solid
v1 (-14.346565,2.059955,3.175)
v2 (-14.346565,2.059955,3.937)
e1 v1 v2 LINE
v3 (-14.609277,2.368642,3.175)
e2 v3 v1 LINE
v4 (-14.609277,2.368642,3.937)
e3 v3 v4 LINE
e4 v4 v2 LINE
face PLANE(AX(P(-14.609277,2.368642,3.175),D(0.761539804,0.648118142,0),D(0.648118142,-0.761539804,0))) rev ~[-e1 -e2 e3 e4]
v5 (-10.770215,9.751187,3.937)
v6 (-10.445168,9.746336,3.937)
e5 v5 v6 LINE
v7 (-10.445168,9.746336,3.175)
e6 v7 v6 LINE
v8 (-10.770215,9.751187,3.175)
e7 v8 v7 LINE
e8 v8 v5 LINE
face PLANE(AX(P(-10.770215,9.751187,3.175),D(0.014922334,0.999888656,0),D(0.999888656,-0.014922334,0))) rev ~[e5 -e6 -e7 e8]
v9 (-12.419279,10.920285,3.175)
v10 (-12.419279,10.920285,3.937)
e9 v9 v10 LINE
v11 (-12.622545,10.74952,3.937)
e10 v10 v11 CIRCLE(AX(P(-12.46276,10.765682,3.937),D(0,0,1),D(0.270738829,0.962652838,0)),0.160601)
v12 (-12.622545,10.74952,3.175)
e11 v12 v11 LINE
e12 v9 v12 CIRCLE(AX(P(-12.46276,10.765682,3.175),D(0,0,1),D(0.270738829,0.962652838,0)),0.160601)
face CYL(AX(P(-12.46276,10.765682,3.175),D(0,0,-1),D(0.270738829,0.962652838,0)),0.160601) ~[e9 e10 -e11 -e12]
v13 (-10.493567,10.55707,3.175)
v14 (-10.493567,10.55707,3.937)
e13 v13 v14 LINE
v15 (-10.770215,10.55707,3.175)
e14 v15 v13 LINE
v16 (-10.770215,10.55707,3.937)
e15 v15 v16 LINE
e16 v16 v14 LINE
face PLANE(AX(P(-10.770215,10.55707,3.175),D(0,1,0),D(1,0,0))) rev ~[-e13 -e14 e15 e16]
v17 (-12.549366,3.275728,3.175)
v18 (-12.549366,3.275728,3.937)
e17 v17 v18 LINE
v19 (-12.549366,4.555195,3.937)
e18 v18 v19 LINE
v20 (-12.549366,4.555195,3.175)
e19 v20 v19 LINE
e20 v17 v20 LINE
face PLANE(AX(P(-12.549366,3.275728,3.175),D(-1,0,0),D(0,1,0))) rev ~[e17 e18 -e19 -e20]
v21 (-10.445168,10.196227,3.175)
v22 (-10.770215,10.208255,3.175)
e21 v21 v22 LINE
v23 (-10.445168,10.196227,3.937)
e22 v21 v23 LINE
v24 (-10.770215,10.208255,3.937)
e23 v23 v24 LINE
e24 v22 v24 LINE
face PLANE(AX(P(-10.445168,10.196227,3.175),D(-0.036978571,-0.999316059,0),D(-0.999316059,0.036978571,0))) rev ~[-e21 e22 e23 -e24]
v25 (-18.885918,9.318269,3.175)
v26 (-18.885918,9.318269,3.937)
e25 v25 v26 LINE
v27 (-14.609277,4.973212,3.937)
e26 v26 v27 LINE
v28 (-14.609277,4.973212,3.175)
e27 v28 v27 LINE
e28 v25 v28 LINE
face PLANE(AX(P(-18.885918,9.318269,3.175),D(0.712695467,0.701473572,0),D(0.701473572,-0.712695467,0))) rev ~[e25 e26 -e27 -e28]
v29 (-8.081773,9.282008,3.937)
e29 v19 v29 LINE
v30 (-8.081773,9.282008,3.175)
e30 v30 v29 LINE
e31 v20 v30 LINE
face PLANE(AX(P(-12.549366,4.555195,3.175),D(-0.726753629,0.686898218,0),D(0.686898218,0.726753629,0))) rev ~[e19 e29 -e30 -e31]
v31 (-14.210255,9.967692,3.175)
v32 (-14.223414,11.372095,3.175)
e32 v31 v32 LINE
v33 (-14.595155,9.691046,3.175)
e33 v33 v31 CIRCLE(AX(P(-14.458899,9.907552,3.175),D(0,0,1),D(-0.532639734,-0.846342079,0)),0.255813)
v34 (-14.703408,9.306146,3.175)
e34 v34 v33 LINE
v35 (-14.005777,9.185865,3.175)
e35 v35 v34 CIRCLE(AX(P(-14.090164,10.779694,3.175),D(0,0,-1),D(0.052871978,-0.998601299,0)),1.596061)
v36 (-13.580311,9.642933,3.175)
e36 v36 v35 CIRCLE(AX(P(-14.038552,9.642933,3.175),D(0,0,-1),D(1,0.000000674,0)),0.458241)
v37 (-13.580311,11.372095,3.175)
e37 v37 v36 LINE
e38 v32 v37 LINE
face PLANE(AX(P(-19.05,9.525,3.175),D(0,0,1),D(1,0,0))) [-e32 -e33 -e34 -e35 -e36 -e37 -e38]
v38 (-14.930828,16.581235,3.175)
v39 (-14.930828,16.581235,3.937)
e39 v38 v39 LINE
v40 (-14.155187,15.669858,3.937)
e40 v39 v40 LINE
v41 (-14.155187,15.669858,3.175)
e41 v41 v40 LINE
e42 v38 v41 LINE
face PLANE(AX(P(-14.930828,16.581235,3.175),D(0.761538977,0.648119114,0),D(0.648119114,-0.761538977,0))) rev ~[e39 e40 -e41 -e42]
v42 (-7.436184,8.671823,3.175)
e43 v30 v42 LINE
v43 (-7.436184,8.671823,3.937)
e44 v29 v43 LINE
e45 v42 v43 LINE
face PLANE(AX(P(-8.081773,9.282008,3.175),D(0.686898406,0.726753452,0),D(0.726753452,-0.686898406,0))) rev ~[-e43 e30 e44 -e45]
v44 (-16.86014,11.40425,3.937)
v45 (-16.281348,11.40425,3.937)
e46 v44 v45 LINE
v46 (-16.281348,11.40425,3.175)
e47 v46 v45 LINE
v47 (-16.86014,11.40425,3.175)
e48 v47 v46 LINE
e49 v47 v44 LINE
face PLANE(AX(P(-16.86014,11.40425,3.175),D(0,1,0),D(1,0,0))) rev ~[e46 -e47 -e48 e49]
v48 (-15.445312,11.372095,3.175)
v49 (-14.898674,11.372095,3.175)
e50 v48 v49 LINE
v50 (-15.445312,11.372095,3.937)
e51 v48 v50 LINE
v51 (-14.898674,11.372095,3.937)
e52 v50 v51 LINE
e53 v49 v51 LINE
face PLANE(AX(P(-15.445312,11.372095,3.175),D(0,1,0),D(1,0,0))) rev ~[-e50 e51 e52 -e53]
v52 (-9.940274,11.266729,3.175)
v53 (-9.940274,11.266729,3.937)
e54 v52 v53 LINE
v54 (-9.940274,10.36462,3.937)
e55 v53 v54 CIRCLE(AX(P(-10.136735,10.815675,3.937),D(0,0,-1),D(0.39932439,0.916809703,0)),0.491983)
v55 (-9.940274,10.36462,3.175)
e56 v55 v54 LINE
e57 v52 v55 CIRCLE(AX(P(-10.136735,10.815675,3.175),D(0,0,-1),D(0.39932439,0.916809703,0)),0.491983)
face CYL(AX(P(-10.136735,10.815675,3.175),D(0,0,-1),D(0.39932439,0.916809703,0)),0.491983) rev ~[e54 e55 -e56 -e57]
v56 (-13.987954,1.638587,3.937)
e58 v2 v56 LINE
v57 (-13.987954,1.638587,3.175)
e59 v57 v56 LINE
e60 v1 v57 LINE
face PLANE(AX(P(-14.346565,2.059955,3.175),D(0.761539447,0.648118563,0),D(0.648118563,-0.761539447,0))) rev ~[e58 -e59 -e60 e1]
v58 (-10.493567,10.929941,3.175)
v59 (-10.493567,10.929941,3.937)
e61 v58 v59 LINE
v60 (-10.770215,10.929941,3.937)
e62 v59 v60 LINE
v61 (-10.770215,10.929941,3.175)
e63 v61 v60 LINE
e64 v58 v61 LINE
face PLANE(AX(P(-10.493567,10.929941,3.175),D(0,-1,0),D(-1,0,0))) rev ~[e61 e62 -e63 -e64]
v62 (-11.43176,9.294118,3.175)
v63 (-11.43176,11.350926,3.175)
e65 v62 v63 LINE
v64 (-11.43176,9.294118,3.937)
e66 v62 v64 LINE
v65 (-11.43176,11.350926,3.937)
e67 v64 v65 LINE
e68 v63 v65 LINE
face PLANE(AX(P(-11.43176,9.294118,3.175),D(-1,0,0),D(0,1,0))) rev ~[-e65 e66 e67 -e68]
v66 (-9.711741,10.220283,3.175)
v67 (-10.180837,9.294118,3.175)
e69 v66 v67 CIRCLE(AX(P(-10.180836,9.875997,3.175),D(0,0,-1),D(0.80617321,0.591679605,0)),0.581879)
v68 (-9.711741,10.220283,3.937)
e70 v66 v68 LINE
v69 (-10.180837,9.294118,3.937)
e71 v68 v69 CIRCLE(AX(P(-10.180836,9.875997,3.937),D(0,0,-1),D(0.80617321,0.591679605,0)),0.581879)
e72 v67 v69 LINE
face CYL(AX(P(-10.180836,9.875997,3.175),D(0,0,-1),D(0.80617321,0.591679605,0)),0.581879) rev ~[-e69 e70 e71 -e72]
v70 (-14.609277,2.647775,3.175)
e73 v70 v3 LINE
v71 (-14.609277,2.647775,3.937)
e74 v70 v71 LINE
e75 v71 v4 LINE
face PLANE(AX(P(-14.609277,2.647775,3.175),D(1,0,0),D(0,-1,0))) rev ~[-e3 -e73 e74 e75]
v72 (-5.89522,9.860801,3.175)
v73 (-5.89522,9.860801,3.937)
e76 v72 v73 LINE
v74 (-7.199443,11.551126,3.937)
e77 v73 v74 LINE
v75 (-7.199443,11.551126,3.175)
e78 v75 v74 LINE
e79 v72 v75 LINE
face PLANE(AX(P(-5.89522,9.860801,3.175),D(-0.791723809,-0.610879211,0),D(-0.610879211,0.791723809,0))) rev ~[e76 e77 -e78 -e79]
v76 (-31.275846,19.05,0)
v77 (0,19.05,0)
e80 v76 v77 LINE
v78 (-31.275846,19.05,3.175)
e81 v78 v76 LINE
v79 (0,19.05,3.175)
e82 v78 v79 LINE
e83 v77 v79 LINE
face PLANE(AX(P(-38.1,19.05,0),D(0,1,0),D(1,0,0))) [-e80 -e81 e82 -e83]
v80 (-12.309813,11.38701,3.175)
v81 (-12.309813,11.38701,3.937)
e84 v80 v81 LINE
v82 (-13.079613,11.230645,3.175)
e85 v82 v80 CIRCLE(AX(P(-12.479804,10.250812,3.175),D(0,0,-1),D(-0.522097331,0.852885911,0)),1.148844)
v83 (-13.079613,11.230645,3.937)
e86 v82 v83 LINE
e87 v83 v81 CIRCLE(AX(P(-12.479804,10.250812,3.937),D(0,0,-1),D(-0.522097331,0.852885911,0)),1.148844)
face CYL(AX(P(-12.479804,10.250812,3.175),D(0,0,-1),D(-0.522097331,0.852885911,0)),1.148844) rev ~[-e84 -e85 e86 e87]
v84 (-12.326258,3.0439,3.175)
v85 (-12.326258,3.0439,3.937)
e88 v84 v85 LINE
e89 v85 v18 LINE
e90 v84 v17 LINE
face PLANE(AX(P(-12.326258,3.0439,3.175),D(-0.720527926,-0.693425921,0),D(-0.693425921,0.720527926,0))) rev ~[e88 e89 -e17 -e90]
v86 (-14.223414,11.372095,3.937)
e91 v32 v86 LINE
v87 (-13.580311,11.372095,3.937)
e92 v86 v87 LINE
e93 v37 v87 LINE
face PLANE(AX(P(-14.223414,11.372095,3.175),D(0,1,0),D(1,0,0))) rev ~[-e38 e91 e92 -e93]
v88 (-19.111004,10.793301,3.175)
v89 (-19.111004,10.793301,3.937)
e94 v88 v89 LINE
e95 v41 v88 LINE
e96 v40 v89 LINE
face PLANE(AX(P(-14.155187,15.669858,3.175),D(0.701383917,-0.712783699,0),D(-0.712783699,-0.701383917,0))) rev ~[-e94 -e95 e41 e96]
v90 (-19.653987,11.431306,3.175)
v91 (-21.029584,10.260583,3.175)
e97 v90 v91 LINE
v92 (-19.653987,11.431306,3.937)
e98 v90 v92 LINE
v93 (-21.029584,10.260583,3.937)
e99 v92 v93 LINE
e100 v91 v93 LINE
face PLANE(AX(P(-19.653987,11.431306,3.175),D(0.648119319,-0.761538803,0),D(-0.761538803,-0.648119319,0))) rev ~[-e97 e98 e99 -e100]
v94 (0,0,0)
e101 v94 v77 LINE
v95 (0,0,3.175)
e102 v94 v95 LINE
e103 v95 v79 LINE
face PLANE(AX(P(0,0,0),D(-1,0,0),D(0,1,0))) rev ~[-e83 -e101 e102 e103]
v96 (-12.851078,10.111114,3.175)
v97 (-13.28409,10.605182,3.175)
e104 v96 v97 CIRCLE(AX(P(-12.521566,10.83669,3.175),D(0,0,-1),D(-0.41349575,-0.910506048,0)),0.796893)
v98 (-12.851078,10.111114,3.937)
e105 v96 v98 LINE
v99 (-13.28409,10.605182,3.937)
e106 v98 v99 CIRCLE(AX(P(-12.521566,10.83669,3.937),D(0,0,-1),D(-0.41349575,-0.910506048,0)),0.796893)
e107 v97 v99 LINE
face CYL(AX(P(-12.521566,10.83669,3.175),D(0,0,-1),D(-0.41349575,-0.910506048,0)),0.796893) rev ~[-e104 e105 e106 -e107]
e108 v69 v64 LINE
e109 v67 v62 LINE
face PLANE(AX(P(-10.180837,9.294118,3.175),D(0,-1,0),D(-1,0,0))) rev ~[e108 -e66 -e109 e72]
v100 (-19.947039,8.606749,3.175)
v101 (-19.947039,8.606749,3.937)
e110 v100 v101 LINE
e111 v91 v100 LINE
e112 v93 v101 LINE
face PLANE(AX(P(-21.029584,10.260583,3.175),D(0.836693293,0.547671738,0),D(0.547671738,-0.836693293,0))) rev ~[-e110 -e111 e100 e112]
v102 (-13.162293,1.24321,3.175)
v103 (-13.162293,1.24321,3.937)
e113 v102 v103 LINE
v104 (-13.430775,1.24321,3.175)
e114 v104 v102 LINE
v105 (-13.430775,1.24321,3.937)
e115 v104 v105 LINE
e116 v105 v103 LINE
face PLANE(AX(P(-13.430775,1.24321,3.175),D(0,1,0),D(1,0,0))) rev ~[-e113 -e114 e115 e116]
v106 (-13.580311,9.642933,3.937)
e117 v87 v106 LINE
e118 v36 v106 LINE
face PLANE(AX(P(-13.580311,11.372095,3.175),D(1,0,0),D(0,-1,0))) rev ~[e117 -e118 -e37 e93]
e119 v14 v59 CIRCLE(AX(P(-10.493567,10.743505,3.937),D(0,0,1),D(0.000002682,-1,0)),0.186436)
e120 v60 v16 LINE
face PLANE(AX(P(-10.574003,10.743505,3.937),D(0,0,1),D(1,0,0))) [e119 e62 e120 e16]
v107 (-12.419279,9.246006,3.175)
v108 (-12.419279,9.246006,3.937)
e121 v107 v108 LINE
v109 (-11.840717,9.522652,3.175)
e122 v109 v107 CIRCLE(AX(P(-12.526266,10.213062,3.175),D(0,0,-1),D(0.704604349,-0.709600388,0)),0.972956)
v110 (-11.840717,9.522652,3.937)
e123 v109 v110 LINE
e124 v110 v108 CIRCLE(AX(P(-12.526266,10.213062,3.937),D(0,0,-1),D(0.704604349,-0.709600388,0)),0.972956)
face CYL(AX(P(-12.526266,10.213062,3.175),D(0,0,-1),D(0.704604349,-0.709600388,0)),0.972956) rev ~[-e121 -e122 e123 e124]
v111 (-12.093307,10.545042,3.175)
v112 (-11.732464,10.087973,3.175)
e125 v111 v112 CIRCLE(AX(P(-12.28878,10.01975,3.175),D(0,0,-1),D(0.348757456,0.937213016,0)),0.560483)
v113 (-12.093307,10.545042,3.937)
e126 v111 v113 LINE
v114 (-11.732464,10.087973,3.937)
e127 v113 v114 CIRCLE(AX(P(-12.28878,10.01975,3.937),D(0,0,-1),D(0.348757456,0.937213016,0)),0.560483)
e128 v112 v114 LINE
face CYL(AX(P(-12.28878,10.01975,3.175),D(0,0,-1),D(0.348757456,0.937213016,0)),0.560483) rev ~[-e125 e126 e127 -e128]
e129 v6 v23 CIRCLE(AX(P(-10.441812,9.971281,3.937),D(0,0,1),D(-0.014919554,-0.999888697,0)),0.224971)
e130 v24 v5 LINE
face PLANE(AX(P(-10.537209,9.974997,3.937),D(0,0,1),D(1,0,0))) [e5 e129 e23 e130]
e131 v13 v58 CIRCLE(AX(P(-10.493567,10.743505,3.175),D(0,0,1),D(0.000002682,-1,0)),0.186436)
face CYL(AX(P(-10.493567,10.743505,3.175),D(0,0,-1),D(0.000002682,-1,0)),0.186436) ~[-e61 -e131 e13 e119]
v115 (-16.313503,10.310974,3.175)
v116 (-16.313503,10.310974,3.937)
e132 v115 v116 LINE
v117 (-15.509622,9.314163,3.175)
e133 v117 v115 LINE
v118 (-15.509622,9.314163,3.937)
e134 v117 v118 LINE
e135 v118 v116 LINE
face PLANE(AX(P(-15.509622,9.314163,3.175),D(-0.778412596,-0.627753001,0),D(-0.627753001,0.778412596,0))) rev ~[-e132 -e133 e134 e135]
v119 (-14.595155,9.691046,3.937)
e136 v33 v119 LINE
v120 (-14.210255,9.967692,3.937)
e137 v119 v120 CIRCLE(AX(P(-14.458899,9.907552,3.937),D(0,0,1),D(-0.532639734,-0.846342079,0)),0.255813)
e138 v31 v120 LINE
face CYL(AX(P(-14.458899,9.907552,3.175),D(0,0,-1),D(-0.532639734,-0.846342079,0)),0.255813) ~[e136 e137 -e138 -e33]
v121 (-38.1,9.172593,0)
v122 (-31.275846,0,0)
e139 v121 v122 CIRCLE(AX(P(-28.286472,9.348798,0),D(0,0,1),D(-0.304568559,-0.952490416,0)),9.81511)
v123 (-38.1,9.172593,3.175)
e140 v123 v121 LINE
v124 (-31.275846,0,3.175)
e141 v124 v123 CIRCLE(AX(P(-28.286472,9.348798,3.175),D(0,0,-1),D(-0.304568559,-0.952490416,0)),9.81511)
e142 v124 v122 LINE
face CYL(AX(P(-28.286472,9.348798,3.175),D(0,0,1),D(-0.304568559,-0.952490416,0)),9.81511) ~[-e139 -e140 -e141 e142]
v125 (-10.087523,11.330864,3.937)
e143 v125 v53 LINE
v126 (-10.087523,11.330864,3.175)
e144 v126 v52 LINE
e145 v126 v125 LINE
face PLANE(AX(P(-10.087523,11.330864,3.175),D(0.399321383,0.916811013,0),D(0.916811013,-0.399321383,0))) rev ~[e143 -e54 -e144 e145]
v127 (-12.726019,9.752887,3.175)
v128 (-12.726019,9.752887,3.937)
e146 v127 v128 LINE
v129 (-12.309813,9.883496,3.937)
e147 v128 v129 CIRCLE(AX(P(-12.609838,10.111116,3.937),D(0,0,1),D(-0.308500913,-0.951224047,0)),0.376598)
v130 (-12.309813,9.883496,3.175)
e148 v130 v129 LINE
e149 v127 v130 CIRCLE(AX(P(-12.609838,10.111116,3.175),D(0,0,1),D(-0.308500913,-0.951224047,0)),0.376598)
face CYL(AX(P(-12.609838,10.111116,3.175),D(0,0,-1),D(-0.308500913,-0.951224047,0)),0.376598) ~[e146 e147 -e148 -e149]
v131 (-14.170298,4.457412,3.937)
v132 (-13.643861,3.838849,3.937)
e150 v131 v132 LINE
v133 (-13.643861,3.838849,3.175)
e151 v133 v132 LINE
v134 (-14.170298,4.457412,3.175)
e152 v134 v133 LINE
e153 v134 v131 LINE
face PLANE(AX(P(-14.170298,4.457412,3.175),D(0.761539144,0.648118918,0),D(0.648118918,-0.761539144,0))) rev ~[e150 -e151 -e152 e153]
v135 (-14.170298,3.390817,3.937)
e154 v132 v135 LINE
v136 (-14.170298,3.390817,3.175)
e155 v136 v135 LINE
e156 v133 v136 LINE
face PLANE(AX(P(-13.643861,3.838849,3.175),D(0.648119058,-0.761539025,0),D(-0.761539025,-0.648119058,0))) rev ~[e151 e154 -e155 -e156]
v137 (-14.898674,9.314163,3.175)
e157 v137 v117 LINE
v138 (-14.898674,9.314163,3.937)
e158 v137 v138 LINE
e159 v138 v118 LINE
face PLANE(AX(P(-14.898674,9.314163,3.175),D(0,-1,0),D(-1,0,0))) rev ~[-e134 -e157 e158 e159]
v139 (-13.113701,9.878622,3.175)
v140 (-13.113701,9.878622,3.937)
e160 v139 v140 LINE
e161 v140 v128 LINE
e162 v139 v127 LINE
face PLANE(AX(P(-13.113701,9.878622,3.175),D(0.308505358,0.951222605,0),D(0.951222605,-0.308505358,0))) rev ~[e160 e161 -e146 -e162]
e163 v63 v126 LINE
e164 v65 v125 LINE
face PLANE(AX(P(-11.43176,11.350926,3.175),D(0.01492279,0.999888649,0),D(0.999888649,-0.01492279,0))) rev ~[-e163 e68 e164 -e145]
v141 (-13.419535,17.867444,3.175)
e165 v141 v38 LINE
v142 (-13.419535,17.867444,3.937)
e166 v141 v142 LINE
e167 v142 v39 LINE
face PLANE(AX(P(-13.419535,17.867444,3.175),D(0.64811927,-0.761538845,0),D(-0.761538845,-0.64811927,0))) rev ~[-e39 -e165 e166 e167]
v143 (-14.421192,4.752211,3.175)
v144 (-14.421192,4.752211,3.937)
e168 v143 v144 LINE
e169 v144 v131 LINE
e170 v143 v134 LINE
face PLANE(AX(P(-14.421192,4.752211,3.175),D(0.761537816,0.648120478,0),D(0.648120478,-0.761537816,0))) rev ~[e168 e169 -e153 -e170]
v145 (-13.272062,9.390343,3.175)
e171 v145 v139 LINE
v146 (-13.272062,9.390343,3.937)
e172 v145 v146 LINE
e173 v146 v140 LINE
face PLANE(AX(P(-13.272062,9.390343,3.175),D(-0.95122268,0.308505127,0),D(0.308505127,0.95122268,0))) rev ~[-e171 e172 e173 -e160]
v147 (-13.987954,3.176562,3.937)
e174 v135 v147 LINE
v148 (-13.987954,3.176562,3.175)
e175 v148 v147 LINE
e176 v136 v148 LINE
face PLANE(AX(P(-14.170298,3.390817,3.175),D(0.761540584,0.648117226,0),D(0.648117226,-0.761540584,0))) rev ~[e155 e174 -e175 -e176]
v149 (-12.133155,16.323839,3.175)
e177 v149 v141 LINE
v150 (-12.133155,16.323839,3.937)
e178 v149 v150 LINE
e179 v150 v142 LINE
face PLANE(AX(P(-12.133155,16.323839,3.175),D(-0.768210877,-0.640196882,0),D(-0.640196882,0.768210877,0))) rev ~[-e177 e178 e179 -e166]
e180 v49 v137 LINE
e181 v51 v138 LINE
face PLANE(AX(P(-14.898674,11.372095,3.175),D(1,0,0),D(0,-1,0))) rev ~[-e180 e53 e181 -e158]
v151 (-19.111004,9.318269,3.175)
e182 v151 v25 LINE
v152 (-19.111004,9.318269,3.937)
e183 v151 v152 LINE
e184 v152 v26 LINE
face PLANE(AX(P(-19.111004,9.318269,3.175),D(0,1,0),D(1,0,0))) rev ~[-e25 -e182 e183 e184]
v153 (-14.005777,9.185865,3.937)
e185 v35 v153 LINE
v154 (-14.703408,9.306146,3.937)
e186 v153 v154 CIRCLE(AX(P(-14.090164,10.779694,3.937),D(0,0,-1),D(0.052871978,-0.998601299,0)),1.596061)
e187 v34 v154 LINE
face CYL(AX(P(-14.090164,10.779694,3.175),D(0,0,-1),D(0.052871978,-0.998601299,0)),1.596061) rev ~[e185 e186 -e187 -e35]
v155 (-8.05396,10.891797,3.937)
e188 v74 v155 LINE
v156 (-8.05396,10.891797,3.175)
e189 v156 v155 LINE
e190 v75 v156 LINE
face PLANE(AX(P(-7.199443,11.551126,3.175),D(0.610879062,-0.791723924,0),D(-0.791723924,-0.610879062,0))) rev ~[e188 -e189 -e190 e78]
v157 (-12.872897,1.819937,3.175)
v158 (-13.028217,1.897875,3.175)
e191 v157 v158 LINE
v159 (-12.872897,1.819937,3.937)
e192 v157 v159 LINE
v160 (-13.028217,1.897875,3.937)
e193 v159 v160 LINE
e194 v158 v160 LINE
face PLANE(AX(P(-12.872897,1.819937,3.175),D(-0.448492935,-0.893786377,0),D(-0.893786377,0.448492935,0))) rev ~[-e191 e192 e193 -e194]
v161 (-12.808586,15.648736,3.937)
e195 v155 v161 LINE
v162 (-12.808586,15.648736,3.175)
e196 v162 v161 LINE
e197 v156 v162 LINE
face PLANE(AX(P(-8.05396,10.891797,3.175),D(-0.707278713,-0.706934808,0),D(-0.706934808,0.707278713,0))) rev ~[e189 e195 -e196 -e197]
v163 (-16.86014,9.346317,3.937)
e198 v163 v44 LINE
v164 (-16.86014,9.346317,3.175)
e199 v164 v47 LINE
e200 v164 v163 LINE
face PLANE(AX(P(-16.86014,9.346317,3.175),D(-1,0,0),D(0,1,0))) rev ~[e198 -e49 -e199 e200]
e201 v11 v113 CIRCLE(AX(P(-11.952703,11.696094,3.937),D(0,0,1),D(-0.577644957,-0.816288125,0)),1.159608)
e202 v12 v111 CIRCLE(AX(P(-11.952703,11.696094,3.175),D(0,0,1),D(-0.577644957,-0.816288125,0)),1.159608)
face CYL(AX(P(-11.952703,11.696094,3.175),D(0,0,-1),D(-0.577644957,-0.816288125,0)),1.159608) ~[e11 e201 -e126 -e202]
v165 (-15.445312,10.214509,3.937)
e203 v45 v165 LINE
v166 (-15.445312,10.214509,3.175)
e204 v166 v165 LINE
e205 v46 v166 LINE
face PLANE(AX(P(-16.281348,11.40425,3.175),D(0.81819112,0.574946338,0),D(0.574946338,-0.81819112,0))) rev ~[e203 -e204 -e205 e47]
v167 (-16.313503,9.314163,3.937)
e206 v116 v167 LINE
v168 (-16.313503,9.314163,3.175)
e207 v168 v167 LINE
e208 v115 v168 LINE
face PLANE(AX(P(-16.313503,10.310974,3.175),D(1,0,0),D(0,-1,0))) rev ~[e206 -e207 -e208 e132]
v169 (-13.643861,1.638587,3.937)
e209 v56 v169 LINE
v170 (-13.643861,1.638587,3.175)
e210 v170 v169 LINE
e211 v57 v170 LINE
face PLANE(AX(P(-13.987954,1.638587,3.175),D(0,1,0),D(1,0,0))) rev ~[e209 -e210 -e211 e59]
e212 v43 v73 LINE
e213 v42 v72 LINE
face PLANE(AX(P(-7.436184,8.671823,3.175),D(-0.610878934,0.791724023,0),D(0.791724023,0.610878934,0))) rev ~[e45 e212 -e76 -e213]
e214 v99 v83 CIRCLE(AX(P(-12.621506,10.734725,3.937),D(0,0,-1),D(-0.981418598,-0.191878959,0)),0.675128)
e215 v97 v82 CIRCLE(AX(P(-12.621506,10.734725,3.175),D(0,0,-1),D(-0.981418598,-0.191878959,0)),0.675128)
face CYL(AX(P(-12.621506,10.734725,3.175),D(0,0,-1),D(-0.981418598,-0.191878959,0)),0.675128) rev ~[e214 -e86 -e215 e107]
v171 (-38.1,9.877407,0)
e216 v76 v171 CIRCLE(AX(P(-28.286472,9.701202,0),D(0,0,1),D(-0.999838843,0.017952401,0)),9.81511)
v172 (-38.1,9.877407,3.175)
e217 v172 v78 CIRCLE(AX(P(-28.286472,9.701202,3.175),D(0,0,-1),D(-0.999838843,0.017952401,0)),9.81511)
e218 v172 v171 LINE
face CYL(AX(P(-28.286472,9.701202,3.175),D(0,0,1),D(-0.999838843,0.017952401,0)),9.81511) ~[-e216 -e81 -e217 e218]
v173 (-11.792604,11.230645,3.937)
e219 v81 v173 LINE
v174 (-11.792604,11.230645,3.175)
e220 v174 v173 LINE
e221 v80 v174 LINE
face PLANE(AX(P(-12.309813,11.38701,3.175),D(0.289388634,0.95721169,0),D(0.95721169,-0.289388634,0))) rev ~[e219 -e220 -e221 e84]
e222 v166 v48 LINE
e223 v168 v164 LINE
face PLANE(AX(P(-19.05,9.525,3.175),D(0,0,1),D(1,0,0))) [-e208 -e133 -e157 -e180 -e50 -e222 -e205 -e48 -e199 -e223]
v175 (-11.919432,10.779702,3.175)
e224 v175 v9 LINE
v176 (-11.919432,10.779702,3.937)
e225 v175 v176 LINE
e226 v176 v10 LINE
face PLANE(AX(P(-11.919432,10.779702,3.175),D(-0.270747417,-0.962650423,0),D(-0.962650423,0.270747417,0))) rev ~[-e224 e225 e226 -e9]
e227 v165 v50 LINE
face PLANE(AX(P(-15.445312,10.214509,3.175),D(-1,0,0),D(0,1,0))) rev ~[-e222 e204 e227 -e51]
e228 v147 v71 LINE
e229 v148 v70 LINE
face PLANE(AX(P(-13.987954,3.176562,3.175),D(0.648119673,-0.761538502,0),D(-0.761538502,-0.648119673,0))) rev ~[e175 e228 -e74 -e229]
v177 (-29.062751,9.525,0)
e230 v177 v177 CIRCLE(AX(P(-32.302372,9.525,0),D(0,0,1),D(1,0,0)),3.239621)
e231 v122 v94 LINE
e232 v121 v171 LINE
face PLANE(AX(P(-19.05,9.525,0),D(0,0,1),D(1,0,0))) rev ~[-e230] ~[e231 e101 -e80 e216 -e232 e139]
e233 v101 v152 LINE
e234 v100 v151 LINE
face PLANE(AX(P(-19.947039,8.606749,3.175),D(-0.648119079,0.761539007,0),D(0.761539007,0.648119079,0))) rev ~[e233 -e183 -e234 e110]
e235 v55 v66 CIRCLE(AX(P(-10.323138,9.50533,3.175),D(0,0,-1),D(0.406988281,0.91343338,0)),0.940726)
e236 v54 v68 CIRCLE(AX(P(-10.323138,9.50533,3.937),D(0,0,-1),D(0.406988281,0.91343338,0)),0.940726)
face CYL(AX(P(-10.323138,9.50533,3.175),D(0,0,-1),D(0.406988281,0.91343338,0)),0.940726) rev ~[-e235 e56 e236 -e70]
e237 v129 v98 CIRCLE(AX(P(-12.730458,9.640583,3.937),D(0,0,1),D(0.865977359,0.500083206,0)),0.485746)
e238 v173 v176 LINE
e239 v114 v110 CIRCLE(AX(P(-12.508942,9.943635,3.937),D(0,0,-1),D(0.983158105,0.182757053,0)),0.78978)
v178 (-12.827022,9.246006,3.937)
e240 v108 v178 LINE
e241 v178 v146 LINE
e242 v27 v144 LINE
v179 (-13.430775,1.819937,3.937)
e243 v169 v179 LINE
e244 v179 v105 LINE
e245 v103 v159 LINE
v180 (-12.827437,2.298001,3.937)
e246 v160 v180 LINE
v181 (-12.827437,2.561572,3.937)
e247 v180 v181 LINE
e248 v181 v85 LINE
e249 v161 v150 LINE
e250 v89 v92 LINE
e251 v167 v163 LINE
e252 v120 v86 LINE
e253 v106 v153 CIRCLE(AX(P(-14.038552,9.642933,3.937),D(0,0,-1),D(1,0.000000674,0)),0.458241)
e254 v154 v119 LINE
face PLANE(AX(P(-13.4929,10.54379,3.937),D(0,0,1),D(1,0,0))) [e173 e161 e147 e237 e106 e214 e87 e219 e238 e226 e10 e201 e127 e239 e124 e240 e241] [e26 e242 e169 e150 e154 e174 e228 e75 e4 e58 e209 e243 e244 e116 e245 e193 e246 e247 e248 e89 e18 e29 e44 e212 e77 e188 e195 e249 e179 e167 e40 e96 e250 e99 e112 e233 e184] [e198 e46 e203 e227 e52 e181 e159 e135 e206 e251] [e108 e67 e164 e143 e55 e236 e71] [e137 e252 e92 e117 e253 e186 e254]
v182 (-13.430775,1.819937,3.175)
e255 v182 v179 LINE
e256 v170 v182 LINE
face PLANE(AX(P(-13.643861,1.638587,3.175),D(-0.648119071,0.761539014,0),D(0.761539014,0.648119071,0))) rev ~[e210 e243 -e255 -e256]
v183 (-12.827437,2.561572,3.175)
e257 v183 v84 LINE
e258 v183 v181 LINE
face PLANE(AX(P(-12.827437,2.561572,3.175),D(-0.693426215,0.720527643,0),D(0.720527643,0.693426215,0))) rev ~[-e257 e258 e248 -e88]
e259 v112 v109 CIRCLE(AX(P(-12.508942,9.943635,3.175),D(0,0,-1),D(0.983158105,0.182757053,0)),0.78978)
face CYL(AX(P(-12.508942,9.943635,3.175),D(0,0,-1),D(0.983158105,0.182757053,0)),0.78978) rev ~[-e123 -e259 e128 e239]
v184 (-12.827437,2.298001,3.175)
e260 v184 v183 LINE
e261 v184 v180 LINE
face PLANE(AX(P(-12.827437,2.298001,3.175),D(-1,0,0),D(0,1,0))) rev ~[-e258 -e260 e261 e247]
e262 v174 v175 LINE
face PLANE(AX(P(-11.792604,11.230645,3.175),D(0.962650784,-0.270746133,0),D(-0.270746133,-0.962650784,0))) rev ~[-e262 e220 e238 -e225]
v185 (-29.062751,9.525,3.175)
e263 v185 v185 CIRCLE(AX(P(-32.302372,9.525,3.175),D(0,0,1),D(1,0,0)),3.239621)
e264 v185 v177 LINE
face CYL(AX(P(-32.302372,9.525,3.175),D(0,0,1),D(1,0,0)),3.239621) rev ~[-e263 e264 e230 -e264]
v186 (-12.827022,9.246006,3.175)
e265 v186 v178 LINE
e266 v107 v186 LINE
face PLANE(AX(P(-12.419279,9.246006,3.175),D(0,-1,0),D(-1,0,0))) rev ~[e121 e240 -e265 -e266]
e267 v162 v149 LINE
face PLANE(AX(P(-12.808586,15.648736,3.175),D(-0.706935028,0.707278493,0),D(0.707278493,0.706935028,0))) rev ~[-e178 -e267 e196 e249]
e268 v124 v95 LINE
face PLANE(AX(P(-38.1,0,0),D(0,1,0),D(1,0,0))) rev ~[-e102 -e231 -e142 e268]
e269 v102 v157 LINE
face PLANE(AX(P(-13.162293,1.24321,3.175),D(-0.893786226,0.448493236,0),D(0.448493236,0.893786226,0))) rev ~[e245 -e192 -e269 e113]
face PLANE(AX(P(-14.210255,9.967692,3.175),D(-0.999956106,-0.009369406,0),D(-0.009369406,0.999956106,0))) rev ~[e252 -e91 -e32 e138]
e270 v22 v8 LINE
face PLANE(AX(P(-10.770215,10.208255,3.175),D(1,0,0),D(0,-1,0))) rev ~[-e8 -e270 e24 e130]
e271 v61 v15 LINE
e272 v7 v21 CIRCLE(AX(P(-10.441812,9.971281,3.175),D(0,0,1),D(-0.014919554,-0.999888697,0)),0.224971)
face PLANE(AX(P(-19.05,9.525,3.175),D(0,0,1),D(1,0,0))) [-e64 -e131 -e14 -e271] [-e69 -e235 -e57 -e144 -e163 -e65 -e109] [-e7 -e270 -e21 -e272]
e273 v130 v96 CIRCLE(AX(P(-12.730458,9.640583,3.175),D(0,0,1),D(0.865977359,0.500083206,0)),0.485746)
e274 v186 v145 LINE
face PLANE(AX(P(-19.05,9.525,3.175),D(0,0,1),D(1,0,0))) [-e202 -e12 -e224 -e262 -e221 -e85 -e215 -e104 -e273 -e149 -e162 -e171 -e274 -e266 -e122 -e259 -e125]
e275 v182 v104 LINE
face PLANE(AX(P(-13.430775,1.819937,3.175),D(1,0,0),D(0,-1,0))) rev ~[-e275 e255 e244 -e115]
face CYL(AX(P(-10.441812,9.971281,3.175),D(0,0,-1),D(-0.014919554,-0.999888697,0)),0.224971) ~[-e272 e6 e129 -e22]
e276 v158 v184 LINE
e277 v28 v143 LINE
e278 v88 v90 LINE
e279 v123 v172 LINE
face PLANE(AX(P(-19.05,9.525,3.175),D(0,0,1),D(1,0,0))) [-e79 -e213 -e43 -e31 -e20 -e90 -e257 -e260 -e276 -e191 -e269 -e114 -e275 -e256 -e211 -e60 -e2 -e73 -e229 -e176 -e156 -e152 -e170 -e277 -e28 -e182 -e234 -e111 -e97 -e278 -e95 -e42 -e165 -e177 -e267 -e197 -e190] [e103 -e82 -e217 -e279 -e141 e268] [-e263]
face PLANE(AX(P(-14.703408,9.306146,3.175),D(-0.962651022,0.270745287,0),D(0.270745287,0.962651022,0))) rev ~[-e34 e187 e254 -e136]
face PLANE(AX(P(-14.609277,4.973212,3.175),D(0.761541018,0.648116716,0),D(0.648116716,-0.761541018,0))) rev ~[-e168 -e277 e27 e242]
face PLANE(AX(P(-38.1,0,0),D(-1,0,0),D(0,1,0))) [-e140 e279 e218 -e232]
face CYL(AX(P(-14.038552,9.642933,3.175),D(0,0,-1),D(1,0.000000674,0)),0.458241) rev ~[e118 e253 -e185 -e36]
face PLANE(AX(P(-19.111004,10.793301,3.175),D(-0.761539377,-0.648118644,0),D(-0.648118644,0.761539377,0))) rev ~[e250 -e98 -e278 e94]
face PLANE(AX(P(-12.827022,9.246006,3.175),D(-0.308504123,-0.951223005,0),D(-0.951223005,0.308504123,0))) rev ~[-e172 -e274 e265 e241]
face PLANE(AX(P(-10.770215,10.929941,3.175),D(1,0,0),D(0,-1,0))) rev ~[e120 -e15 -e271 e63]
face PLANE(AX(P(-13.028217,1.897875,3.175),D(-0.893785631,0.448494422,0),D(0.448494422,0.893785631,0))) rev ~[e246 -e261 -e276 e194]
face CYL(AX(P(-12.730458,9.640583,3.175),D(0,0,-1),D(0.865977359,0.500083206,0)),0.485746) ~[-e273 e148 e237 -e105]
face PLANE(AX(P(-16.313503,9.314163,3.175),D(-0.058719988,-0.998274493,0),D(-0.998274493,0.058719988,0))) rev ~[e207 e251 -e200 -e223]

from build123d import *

# Parameters (mm, degrees)
F0_W     = 38.1
F0_H     = 19.05
F1_DEPTH = 3.175
F2_R     = 3.239621
F3_DEPTH = 3.176
F5_DEPTH = 0.762


with BuildPart() as f1:
    # F0 (on Top) → F1 (new body)
    with BuildSketch(Plane.XY):
        with Locations((-19.05, 9.525)):
            Rectangle(F0_W, F0_H)
    extrude(amount=F1_DEPTH)

    # F2 (on face) → F3 (cut, through all)
    with BuildSketch(Plane.XY.offset(3.175)):
        with BuildLine():
            ThreePointArc((-38.1, 9.877407), (-36.161286, 15.559844), (-31.275846, 19.05))
            Line((-31.275846, 19.05), (-38.1, 19.05))
            Line((-38.1, 19.05), (-38.1, 9.877407))
        make_face()
        with BuildLine():
            ThreePointArc((-31.275846, 0), (-36.161286, 3.490156), (-38.1, 9.172593))
            Line((-38.1, 9.172593), (-38.1, 0))
            Line((-38.1, 0), (-31.275846, 0))
        make_face()
        with Locations((-32.302372, 9.525)):
            Circle(F2_R)
    extrude(amount=-F3_DEPTH, mode=Mode.SUBTRACT)

    # F4 (on face) → F5 (join)
    with BuildSketch(Plane.XY.offset(3.175)):
        Polygon((-12.133155, 16.323839), (-13.419535, 17.867444), (-14.930828, 16.581235), (-14.155187, 15.669858), (-19.111004, 10.793301), (-19.653987, 11.431306), (-21.029584, 10.260583), (-19.947039, 8.606749), (-19.111004, 9.318269), (-18.885918, 9.318269), (-14.609277, 4.973212), (-14.512812, 5.356764), (-14.512812, 5.616316), (-14.239308, 6.20037), (-14.159105, 6.484506), (-12.678197, 6.066489), (-12.678197, 5.356764), (-12.937207, 5.101833), (-12.937207, 4.555195), (-12.549366, 4.555195), (-8.081773, 9.282008), (-7.436184, 8.671823), (-5.89522, 9.860801), (-7.199443, 11.551126), (-8.05396, 10.891797), (-12.808586, 15.648736), align=None)
        Polygon((-16.313503, 9.314163), (-16.86014, 9.346317), (-16.86014, 11.40425), (-16.281348, 11.40425), (-15.445312, 10.214509), (-15.445312, 11.372095), (-14.898674, 11.372095), (-14.898674, 9.314163), (-15.509622, 9.314163), (-16.313503, 10.310974), align=None, mode=Mode.SUBTRACT)
        with BuildLine():
            Line((-14.210255, 9.967692), (-14.223414, 11.372095))
            Line((-14.223414, 11.372095), (-13.580311, 11.372095))
            Line((-13.580311, 11.372095), (-13.580311, 9.642933))
            ThreePointArc((-13.580311, 9.642933), (-13.703139, 9.33071), (-14.005777, 9.185865))
            ThreePointArc((-14.005777, 9.185865), (-14.361345, 9.206839), (-14.703408, 9.306146))
            Line((-14.703408, 9.306146), (-14.595155, 9.691046))
            ThreePointArc((-14.595155, 9.691046), (-14.309597, 9.699827), (-14.210255, 9.967692))
        make_face(mode=Mode.SUBTRACT)
        with BuildLine():
            Line((-12.309813, 11.38701), (-11.792604, 11.230645))
            Line((-11.792604, 11.230645), (-11.919432, 10.779702))
            Line((-11.919432, 10.779702), (-12.419279, 10.920285))
            ThreePointArc((-12.419279, 10.920285), (-12.566064, 10.888649), (-12.622545, 10.74952))
            ThreePointArc((-12.622545, 10.74952), (-12.370625, 10.614414), (-12.093307, 10.545042))
            ThreePointArc((-12.093307, 10.545042), (-11.848866, 10.36705), (-11.732464, 10.087973))
            ThreePointArc((-11.732464, 10.087973), (-11.733256, 9.7951), (-11.840717, 9.522652))
            ThreePointArc((-11.840717, 9.522652), (-12.10655, 9.335291), (-12.419279, 9.246006))
            Line((-12.419279, 9.246006), (-12.827022, 9.246006))
            Line((-12.827022, 9.246006), (-13.272062, 9.390343))
            Line((-13.272062, 9.390343), (-13.113701, 9.878622))
            Line((-13.113701, 9.878622), (-12.726019, 9.752887))
            ThreePointArc((-12.726019, 9.752887), (-12.49708, 9.751795), (-12.309813, 9.883496))
            ThreePointArc((-12.309813, 9.883496), (-12.54216, 10.088347), (-12.851078, 10.111114))
            ThreePointArc((-12.851078, 10.111114), (-13.120867, 10.31145), (-13.28409, 10.605182))
            ThreePointArc((-13.28409, 10.605182), (-13.263213, 10.944513), (-13.079613, 11.230645))
            ThreePointArc((-13.079613, 11.230645), (-12.708492, 11.376665), (-12.309813, 11.38701))
        make_face(mode=Mode.SUBTRACT)
        with BuildLine():
            Line((-11.43176, 9.294118), (-11.43176, 11.350926))
            Line((-11.43176, 11.350926), (-10.087523, 11.330864))
            Line((-10.087523, 11.330864), (-9.940274, 11.266729))
            ThreePointArc((-9.940274, 11.266729), (-9.644752, 10.815674), (-9.940274, 10.36462))
            ThreePointArc((-9.940274, 10.36462), (-9.820796, 10.300702), (-9.711741, 10.220283))
            ThreePointArc((-9.711741, 10.220283), (-9.661743, 9.61308), (-10.180837, 9.294118))
            Line((-10.180837, 9.294118), (-11.43176, 9.294118))
        make_face(mode=Mode.SUBTRACT)
        with BuildLine():
            Line((-10.445168, 10.196227), (-10.770215, 10.208255))
            Line((-10.770215, 10.208255), (-10.770215, 9.751187))
            Line((-10.770215, 9.751187), (-10.445168, 9.746336))
            ThreePointArc((-10.445168, 9.746336), (-10.216841, 9.971281), (-10.445168, 10.196227))
        make_face()
        with BuildLine():
            Line((-10.770215, 10.929941), (-10.770215, 10.55707))
            Line((-10.770215, 10.55707), (-10.493567, 10.55707))
            ThreePointArc((-10.493567, 10.55707), (-10.307132, 10.743506), (-10.493567, 10.929941))
            Line((-10.493567, 10.929941), (-10.770215, 10.929941))
        make_face()
        Polygon((-12.549366, 3.912091), (-12.549366, 4.555195), (-12.937207, 4.555195), (-12.937207, 5.101833), (-12.678197, 5.356764), (-12.678197, 6.066489), (-14.159105, 6.484506), (-14.239308, 6.20037), (-14.512812, 5.616316), (-14.512812, 5.356764), (-14.609277, 4.973212), (-14.421192, 4.752211), (-14.170298, 4.457412), (-13.643861, 3.838849), (-14.170298, 3.390817), (-13.987954, 3.176562), (-14.609277, 2.647775), (-14.609277, 2.368642), (-14.346565, 2.059955), (-13.987954, 1.638587), (-13.643861, 1.638587), (-13.430775, 1.819937), (-13.430775, 1.24321), (-13.162293, 1.24321), (-12.872897, 1.819937), (-13.028217, 1.897875), (-12.827437, 2.298001), (-12.827437, 2.561572), (-12.326258, 3.0439), (-12.549366, 3.275728), align=None)
    extrude(amount=F5_DEPTH)


solid = f1.part
